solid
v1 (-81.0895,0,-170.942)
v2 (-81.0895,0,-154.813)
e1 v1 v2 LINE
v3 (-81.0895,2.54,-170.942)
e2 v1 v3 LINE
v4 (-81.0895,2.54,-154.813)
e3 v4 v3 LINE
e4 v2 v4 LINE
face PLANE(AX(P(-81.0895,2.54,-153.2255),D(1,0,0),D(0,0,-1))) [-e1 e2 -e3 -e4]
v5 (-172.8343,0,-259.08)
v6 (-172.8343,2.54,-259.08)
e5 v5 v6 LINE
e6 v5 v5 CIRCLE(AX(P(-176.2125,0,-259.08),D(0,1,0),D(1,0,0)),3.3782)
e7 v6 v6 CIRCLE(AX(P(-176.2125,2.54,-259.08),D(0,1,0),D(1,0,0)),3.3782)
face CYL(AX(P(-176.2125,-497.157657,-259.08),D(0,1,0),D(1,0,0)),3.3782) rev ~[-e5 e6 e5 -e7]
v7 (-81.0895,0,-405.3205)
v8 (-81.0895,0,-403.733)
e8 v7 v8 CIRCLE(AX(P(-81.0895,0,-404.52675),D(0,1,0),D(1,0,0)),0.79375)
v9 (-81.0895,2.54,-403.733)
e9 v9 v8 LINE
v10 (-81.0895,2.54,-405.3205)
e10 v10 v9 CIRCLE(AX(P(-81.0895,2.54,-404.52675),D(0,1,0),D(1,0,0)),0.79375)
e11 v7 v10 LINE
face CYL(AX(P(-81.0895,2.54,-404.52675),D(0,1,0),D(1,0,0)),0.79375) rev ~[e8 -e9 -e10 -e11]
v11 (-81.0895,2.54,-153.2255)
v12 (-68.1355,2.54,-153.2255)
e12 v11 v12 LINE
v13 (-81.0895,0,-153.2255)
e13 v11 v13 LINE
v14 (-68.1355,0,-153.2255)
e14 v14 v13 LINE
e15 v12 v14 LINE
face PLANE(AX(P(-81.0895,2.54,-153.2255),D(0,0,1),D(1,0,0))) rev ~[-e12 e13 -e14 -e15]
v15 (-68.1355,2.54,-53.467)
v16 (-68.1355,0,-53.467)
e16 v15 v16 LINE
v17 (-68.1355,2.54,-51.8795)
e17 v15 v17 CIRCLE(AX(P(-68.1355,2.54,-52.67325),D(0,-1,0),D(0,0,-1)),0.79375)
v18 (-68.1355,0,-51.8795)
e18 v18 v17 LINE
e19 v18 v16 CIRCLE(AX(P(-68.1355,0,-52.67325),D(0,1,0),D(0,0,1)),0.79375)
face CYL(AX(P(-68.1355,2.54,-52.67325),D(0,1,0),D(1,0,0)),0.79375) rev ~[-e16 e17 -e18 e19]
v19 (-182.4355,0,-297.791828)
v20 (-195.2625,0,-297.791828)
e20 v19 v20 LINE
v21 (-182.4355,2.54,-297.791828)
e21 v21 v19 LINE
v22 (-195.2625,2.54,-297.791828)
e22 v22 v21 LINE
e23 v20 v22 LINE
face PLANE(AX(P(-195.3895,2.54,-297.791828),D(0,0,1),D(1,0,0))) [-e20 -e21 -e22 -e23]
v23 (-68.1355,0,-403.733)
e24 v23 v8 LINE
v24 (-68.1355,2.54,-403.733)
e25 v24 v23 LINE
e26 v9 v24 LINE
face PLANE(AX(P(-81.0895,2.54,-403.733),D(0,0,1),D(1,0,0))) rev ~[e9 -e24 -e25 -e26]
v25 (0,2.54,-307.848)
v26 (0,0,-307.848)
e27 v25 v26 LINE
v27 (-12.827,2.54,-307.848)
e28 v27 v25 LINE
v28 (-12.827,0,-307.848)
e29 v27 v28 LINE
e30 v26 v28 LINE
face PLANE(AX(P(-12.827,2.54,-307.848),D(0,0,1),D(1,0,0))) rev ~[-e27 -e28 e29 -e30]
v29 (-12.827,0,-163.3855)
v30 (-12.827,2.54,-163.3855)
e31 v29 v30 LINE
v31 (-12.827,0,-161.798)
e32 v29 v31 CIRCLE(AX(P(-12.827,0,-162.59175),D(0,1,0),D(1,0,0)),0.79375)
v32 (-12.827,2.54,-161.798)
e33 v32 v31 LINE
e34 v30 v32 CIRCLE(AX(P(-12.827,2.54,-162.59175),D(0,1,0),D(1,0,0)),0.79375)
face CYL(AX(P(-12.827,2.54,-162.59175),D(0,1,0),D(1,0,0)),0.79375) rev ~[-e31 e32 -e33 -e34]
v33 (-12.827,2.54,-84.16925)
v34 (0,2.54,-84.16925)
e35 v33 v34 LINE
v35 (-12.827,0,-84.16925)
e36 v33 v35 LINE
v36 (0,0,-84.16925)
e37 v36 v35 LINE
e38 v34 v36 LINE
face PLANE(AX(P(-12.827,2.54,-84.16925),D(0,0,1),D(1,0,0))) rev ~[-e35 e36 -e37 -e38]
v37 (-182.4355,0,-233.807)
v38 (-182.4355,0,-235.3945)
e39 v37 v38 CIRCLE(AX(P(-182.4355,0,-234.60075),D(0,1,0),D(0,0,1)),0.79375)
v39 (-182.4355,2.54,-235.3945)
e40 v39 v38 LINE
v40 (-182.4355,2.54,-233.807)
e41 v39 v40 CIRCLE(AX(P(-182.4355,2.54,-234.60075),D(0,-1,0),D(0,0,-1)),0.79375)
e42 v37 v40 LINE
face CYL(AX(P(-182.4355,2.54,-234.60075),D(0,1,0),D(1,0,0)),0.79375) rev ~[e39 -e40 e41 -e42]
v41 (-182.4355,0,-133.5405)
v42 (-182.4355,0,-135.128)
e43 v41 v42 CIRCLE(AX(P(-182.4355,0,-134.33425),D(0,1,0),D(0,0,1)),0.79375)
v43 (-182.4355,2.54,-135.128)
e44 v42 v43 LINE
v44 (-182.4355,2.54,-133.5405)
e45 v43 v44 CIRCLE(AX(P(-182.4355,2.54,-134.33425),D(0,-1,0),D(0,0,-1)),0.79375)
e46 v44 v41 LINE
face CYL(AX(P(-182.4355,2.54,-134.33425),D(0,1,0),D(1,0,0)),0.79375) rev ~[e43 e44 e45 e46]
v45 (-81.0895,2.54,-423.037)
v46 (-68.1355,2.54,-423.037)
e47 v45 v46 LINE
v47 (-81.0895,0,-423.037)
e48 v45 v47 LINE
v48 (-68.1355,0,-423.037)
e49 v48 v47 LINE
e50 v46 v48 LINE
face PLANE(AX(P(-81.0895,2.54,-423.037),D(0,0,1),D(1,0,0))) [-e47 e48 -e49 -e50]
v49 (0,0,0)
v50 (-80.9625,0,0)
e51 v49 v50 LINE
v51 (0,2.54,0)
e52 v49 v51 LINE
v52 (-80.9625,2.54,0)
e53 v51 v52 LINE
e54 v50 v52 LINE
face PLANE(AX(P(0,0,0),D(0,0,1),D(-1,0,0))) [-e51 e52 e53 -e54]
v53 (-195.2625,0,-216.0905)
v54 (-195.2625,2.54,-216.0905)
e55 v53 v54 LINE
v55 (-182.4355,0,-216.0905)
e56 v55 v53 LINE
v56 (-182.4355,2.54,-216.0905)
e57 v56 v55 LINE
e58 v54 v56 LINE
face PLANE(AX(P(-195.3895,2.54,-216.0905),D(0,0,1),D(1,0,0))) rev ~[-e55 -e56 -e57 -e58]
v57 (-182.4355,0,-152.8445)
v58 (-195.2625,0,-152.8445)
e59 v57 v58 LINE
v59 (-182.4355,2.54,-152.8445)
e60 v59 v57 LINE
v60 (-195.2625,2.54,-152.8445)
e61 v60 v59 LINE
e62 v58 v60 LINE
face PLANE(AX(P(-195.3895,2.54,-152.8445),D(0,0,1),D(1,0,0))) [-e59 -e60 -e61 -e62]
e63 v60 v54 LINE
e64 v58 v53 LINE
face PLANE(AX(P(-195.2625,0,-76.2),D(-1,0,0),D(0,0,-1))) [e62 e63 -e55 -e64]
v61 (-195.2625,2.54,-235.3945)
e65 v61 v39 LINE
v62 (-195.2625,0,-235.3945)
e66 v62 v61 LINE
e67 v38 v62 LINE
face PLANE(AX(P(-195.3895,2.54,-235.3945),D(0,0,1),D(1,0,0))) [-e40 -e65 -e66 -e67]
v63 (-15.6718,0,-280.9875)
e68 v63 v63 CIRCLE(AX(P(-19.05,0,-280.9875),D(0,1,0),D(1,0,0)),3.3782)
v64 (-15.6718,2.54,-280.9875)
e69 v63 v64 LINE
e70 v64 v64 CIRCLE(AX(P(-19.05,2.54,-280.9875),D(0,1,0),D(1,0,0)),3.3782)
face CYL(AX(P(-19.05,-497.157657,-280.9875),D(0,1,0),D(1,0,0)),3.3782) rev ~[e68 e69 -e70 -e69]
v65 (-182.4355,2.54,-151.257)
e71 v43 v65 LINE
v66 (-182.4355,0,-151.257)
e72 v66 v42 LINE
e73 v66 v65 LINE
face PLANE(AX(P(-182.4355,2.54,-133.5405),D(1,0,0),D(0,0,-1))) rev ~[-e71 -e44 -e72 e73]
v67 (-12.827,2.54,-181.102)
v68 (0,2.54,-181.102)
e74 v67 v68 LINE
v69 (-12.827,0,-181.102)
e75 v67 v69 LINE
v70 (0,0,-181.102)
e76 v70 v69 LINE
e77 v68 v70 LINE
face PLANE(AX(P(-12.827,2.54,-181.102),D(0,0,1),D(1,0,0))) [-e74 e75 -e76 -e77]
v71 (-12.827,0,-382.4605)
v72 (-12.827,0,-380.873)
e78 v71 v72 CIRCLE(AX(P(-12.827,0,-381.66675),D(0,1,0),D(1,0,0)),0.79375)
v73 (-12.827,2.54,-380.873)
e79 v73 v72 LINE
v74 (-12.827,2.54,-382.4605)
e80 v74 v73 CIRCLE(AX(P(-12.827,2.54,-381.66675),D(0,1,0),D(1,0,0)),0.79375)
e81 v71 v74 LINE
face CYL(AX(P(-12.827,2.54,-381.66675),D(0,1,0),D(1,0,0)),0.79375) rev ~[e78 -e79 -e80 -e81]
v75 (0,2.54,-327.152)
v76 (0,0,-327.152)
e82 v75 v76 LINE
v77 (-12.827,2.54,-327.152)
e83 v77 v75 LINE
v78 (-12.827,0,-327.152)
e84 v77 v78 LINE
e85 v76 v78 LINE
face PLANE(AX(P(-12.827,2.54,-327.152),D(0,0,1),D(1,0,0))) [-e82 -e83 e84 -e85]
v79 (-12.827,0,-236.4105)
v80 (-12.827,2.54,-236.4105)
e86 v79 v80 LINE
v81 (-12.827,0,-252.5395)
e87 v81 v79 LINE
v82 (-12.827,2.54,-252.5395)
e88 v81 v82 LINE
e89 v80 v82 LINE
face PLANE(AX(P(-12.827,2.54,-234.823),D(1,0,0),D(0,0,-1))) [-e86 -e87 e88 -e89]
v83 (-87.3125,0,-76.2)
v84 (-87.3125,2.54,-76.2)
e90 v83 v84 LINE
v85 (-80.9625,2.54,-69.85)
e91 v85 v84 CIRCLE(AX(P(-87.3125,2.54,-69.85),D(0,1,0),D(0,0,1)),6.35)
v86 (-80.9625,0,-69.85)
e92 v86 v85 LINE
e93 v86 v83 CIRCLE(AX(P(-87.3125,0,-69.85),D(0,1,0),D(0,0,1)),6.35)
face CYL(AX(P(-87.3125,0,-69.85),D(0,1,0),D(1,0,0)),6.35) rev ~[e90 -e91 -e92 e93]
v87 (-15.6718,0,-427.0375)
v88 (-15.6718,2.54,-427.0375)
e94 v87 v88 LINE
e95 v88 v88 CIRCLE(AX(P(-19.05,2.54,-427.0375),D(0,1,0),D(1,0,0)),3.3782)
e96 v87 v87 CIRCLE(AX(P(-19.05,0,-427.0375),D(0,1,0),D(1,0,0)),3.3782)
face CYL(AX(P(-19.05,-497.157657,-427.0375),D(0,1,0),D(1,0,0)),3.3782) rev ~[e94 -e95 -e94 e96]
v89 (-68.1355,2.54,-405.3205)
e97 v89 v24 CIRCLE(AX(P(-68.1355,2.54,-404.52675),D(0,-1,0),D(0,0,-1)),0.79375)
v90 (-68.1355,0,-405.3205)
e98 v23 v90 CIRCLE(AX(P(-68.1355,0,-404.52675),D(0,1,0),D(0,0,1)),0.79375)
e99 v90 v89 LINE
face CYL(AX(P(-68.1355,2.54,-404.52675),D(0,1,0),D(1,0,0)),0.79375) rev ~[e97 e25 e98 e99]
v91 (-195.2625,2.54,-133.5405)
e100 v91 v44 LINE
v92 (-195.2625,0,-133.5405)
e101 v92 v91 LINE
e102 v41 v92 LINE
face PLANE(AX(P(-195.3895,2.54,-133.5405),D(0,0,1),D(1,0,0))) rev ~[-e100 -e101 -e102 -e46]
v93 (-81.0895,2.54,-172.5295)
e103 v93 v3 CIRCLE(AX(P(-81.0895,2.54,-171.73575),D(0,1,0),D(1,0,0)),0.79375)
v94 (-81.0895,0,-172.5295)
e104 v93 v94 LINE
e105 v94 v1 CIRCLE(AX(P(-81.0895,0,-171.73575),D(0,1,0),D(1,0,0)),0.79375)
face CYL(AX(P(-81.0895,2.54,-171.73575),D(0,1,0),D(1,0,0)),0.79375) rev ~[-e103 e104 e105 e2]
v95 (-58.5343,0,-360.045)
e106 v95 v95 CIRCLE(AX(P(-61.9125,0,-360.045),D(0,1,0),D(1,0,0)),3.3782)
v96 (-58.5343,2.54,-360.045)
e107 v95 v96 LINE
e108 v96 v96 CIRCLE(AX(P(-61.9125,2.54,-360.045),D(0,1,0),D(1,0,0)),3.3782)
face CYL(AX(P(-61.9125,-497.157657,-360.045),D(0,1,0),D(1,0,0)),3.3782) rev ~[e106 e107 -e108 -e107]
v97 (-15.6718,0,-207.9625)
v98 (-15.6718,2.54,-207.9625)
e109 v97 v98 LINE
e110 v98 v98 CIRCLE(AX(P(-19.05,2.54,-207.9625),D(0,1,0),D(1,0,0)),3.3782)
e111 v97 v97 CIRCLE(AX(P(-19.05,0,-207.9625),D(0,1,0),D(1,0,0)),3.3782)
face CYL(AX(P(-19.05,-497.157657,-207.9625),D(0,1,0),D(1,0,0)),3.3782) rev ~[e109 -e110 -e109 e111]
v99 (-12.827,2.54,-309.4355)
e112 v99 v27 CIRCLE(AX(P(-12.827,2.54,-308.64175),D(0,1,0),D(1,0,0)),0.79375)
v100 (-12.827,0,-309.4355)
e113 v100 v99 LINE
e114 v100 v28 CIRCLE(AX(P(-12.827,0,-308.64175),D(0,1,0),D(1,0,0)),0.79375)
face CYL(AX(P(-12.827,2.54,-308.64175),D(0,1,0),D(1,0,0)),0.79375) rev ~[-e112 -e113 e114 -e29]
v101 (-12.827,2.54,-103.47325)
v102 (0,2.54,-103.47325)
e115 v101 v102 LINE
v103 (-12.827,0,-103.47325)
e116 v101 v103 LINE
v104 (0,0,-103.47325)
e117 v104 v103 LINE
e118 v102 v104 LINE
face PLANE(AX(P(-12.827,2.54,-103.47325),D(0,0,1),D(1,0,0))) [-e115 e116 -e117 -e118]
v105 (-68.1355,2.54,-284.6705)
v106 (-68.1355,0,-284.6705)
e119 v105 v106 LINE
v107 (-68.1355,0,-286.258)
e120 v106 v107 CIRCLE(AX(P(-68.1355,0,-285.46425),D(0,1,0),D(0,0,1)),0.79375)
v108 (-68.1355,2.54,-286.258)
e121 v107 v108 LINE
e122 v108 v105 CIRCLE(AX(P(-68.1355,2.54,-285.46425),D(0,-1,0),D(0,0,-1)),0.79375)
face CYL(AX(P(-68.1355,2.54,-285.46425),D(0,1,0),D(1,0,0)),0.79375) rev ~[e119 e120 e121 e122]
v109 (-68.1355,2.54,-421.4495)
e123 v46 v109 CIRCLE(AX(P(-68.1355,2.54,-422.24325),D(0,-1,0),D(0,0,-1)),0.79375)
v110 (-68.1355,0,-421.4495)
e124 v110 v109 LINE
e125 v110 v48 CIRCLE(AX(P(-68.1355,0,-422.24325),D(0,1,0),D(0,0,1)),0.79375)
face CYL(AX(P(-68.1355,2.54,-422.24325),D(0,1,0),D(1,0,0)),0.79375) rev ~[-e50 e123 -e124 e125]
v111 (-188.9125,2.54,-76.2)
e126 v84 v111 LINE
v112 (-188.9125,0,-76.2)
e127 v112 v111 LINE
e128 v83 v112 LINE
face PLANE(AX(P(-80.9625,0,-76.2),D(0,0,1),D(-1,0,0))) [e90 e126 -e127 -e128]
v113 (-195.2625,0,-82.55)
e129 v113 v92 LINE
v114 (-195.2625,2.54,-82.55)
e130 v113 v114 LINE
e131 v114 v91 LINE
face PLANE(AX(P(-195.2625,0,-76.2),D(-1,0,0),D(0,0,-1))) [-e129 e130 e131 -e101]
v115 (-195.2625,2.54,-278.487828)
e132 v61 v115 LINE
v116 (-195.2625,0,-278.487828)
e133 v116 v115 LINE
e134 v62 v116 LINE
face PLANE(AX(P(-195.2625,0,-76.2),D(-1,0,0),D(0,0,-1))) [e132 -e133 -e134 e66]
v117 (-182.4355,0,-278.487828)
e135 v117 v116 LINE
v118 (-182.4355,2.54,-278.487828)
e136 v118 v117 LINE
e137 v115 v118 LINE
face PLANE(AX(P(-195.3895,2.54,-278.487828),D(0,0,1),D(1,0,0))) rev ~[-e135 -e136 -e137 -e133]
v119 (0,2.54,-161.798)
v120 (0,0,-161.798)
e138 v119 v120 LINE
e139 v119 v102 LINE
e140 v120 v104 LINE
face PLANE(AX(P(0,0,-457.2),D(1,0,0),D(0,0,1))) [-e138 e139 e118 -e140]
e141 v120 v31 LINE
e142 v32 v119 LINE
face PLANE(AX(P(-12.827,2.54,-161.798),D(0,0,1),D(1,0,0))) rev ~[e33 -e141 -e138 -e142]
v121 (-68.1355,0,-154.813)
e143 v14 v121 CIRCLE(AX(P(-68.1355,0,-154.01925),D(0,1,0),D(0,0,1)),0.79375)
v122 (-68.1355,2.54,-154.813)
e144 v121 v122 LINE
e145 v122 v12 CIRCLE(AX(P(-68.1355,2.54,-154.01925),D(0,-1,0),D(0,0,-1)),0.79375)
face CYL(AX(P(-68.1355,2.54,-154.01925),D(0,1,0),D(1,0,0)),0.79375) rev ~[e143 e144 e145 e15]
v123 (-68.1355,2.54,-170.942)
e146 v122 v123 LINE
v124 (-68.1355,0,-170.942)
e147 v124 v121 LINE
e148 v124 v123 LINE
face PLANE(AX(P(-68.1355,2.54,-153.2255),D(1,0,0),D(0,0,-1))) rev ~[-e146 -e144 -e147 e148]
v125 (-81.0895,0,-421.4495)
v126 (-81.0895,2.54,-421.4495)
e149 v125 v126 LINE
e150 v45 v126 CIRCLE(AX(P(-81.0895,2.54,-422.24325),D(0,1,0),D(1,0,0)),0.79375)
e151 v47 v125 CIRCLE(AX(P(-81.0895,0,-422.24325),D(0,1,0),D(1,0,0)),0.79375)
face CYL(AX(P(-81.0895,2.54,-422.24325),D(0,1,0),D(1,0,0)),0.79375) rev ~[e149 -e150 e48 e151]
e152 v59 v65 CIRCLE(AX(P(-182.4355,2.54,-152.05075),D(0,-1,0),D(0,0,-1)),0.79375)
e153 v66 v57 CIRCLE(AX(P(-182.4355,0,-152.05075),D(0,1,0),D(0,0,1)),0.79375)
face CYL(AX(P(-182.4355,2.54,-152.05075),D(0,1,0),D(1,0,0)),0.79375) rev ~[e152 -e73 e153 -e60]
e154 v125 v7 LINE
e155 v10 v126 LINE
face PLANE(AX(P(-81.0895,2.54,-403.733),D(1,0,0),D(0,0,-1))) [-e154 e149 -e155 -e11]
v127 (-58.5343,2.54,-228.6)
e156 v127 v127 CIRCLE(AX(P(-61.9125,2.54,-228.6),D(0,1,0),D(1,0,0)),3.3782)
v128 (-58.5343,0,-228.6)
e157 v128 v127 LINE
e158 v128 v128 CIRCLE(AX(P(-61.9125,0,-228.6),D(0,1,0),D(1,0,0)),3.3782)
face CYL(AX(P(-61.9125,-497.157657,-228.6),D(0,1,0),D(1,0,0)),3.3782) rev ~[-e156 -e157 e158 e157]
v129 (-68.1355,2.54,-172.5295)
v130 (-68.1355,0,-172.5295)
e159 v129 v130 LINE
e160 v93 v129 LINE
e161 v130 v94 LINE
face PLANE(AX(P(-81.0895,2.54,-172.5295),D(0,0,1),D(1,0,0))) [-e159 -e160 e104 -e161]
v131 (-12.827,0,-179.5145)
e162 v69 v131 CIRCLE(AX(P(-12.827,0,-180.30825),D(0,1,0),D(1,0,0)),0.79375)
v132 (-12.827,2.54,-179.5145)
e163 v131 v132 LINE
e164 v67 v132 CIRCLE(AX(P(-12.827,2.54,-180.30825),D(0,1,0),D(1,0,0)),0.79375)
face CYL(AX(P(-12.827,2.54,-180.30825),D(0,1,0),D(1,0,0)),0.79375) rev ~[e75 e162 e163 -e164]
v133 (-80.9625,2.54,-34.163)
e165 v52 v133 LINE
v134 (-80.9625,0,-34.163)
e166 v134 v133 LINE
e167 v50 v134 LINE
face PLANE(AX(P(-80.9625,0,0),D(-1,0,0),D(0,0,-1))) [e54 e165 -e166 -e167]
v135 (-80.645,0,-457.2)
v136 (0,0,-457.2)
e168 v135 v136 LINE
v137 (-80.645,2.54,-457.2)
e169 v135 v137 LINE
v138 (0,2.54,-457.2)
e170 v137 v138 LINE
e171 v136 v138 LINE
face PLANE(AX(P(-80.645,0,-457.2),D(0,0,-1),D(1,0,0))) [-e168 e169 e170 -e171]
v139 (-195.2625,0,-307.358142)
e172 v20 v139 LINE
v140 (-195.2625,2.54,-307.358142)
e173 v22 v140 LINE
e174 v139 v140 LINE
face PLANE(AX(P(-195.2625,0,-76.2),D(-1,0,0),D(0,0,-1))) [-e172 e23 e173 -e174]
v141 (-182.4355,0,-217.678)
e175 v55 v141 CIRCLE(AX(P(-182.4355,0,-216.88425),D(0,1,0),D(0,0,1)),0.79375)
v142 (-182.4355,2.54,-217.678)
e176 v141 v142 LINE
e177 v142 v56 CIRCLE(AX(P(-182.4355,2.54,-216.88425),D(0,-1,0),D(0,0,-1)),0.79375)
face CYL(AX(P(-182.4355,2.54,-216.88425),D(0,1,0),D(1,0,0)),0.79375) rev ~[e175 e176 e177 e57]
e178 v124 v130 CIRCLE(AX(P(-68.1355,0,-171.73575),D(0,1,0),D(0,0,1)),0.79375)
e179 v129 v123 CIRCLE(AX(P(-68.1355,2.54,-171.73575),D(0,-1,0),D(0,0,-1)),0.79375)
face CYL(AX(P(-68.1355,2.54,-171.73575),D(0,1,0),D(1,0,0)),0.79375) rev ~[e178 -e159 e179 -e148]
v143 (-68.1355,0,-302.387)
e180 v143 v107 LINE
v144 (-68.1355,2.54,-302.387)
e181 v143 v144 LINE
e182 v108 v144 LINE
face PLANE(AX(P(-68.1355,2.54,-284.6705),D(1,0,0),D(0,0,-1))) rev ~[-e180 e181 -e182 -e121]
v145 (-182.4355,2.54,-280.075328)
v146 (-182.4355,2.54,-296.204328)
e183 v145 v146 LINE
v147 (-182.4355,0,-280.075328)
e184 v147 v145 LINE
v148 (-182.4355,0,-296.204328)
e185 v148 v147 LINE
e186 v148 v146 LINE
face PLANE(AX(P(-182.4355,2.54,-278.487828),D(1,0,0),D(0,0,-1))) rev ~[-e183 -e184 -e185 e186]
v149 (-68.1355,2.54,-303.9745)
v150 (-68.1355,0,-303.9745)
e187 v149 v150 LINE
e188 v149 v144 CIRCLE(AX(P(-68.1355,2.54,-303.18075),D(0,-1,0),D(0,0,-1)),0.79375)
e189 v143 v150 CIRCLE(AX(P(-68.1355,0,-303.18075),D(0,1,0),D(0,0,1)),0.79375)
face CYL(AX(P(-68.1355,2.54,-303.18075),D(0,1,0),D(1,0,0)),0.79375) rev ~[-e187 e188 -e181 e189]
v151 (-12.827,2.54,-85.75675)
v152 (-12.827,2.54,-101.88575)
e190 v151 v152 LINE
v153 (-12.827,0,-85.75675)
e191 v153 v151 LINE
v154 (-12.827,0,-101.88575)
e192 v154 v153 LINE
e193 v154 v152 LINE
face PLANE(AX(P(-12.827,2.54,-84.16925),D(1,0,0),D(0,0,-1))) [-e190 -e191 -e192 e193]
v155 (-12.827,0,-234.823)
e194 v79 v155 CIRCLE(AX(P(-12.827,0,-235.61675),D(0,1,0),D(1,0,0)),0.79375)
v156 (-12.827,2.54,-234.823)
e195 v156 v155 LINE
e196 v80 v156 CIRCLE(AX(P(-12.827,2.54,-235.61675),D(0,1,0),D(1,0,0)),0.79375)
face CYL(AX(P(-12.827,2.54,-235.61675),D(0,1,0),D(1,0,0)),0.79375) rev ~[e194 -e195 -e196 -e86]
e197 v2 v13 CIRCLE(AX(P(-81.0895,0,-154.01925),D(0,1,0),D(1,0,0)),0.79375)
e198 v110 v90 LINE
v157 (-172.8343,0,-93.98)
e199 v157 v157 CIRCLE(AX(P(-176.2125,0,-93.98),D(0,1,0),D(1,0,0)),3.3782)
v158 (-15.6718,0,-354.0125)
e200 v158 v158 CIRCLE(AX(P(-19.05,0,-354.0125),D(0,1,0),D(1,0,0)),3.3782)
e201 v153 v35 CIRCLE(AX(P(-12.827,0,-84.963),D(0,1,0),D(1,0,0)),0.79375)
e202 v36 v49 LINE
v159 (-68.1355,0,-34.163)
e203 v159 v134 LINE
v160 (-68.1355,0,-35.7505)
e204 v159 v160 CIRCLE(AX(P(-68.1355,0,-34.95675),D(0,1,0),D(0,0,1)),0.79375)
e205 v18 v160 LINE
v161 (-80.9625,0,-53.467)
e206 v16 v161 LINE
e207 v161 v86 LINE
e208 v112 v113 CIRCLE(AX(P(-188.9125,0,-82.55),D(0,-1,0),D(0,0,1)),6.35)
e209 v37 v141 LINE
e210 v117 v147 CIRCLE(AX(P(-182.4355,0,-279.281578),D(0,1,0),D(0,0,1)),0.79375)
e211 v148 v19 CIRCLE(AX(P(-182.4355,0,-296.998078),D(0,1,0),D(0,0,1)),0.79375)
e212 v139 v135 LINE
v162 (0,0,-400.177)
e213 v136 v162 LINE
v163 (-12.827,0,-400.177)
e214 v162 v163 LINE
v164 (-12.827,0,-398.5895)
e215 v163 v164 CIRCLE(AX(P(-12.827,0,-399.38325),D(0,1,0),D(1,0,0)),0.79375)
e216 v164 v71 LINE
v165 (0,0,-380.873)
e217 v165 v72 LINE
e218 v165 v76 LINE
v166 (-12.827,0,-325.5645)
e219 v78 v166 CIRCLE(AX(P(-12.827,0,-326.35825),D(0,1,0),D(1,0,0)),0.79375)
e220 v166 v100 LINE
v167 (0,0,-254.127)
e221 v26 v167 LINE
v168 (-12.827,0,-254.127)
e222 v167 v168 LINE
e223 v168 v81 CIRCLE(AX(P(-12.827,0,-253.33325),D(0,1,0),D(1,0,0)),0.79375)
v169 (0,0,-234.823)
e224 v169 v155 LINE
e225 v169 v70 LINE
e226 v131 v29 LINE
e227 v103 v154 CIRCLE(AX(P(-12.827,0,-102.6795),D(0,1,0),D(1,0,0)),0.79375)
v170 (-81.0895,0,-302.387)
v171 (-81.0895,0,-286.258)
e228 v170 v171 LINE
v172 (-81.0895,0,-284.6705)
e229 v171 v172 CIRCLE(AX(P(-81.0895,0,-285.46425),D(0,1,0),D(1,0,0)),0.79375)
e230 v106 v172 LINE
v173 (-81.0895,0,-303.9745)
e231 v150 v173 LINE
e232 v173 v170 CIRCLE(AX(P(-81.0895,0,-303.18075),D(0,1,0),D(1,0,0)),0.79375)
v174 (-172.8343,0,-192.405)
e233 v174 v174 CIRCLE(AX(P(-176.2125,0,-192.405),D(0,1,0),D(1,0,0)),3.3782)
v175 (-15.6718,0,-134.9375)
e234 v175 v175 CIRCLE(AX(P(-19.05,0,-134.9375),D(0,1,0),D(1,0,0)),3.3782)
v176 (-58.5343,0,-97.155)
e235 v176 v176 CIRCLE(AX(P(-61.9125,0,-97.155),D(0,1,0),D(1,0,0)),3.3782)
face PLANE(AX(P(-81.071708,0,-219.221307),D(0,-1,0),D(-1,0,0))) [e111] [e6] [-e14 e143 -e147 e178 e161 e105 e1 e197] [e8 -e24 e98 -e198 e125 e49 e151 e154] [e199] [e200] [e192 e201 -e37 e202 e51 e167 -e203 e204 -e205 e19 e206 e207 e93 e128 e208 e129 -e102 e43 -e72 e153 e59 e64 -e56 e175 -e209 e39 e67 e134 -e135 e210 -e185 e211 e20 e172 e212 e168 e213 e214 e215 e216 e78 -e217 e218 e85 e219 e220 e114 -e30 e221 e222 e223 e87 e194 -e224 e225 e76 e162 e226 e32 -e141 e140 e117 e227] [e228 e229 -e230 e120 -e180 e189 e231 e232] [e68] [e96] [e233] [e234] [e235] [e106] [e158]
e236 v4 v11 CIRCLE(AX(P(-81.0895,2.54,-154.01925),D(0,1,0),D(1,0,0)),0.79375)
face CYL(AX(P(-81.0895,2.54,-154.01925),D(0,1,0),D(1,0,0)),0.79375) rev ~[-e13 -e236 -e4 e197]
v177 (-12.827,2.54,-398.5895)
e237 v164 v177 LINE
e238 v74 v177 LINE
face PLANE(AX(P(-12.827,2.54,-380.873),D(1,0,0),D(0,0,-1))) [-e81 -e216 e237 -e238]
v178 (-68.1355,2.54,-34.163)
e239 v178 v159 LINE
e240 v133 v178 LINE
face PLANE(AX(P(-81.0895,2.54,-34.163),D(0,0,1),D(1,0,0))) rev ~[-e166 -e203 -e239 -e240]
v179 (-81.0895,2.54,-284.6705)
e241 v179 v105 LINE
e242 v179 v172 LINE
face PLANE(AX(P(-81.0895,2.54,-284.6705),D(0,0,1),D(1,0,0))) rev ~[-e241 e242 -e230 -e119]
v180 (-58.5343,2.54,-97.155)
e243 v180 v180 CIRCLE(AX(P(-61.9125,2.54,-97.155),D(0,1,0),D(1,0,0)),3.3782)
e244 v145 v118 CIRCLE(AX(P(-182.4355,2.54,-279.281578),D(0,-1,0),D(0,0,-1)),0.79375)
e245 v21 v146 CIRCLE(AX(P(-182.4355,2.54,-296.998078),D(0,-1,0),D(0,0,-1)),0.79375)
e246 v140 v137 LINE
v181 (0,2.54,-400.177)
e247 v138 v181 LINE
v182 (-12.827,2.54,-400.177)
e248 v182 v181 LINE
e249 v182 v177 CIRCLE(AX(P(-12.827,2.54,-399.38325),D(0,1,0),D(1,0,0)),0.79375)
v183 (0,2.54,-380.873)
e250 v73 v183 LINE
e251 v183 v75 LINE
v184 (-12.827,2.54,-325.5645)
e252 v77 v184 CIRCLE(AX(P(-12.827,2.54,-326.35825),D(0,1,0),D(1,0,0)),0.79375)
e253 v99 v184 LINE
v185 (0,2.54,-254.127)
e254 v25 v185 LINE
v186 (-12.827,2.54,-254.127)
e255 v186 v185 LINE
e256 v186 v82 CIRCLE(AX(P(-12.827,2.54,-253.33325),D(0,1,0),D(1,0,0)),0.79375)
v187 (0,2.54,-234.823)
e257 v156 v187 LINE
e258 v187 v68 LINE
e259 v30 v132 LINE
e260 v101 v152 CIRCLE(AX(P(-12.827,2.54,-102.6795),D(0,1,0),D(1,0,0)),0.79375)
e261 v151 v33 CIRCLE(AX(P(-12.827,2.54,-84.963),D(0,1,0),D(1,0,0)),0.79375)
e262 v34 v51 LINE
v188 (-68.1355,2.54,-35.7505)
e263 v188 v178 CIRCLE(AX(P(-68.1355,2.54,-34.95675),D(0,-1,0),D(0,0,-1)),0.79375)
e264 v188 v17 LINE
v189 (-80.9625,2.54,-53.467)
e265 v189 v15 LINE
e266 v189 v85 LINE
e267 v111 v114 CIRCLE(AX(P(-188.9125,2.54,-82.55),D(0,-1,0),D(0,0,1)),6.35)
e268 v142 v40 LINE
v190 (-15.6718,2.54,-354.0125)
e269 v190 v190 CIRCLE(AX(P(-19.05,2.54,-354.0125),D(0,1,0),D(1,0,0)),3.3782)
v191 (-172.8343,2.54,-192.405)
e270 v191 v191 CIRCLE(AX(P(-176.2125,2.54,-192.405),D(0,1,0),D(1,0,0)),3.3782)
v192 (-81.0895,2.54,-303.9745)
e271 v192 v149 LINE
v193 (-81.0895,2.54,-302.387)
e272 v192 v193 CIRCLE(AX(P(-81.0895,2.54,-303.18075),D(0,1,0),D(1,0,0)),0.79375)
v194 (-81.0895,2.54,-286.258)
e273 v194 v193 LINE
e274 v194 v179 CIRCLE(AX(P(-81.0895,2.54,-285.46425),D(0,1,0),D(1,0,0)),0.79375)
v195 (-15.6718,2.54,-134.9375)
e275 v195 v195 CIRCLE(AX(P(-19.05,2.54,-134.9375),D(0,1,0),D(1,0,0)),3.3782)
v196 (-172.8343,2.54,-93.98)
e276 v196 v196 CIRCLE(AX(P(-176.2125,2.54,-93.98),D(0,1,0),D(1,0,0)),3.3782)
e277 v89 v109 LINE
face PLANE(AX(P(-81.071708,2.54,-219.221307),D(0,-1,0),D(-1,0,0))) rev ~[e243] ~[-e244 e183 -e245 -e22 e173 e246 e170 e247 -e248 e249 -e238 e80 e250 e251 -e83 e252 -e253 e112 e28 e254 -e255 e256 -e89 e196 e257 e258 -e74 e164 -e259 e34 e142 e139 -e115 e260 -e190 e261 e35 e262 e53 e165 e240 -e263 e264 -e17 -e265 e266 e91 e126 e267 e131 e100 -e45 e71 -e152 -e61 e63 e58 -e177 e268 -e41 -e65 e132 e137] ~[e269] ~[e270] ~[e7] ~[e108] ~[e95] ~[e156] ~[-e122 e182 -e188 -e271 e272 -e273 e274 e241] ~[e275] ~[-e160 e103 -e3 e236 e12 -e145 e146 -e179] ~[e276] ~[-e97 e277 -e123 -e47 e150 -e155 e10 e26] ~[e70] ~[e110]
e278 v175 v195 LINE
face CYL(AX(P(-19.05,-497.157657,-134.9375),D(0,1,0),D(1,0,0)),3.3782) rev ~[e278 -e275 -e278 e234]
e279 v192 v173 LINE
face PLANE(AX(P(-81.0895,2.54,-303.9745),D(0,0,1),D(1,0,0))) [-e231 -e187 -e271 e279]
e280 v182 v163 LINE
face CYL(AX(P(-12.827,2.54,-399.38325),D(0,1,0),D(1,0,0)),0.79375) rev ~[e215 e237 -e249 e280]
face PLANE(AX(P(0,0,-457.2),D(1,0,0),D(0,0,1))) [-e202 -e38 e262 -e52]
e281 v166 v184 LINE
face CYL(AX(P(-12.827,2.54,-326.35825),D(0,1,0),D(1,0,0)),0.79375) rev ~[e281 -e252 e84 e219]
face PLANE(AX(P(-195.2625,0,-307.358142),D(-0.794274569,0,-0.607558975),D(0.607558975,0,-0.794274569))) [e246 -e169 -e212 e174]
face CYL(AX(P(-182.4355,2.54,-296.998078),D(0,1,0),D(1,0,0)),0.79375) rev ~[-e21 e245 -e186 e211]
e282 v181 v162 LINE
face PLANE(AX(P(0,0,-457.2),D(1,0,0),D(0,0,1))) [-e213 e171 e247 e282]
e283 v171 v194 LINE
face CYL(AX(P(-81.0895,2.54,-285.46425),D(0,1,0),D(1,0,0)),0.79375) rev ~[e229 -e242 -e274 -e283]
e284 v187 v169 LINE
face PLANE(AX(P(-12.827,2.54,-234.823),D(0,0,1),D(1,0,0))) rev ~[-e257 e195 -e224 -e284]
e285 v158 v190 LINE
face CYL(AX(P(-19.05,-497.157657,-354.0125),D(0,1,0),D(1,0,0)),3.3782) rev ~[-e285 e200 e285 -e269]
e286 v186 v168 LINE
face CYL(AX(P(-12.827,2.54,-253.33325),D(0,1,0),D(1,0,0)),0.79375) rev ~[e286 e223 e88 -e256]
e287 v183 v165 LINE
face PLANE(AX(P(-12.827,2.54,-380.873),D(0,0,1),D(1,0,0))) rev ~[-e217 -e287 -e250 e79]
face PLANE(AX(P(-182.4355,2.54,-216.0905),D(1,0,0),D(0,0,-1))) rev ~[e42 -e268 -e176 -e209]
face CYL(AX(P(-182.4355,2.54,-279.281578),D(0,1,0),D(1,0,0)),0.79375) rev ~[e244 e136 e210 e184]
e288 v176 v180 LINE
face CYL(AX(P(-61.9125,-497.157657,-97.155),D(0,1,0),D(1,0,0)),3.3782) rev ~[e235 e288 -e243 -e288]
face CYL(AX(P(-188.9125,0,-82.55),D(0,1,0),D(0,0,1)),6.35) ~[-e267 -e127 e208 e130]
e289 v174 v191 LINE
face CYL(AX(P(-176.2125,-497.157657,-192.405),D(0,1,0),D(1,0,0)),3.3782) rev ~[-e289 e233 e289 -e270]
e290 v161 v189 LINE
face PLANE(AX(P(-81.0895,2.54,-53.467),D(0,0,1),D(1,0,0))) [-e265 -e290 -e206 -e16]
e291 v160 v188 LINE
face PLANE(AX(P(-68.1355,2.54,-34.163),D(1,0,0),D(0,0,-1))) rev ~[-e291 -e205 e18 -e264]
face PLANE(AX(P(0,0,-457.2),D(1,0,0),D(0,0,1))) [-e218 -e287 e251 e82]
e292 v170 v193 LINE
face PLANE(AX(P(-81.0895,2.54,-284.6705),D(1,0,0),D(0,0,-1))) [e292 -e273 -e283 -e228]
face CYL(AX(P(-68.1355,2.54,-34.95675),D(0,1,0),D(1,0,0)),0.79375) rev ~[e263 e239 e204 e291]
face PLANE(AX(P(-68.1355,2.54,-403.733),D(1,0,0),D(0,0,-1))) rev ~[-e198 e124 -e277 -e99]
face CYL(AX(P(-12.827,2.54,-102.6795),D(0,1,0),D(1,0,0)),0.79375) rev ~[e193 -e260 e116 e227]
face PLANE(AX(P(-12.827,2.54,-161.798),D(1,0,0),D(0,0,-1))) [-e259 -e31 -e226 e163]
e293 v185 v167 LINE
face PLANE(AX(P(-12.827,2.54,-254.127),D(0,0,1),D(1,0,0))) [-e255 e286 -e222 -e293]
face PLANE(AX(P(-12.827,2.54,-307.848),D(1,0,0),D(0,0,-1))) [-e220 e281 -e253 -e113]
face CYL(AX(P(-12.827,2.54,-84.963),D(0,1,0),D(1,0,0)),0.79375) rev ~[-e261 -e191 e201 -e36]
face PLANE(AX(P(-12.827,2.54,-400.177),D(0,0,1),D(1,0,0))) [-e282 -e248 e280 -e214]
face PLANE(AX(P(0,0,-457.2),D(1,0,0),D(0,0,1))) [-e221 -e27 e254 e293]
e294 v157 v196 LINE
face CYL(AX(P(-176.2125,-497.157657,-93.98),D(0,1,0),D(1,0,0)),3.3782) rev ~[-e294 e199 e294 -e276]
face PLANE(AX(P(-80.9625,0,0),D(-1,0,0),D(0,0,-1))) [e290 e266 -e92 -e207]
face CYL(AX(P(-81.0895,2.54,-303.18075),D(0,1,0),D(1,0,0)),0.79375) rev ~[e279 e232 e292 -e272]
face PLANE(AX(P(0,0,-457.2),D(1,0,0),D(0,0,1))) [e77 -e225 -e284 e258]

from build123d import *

# Parameters (mm, degrees)
BOSS_EXTRUDE1_DEPTH     = 2.54
FILLET1_R               = 6.35
SKETCH2_W               = 12.954
SKETCH2_H               = 19.304
SKETCH2_W_2             = 12.7
SKETCH2_H_2             = 19.05
CUT_EXTRUDE1_DEPTH      = 498.15765659
F_1_4_CLEARANCE_HOLE1_D = 6.7564
SKETCH5_R               = 0.79375
CUT_EXTRUDE2_DEPTH      = 498.15765659


with BuildPart() as part:
    # Sketch1 → Boss-Extrude1 (new body)
    with BuildSketch(Plane(origin=(0, 0, 0), x_dir=(1, 0, 0), z_dir=(0, 1, 0))):
        Polygon((0, 0), (-80.9625, 0), (-80.9625, 76.2), (-195.2625, 76.2), (-195.2625, 307.35814247), (-80.645, 457.2), (0, 457.2), align=None)
    extrude(amount=BOSS_EXTRUDE1_DEPTH)

    # Fillet1
    fillet1_edges = [part.edges().sort_by_distance(p)[0] for p in [
        (-80.9625, 1.27, -76.2),
        (-195.2625, 1.27, -76.2),
    ]]
    fillet(fillet1_edges, radius=FILLET1_R)

    # Sketch2 → Cut-Extrude1 (cut, through all)
    with BuildSketch(Plane(origin=(0, 2.54, 0), x_dir=(1, 0, 0), z_dir=(0, 1, 0))):
        with Locations((-74.6125, 413.385)):
            Rectangle(SKETCH2_W, SKETCH2_H)
        with Locations((-74.6125, 413.385)):
            Rectangle(SKETCH2_W_2, SKETCH2_H_2, mode=Mode.SUBTRACT)
        with Locations((-188.9125, 288.139828218)):
            Rectangle(SKETCH2_W, SKETCH2_H)
        with Locations((-188.9125, 288.139828218)):
            Rectangle(SKETCH2_W_2, SKETCH2_H_2, mode=Mode.SUBTRACT)
        with Locations((-74.6125, 294.3225)):
            Rectangle(SKETCH2_W, SKETCH2_H)
        with Locations((-74.6125, 294.3225)):
            Rectangle(SKETCH2_W_2, SKETCH2_H_2, mode=Mode.SUBTRACT)
        with Locations((-188.9125, 225.7425)):
            Rectangle(SKETCH2_W, SKETCH2_H)
        with Locations((-188.9125, 225.7425)):
            Rectangle(SKETCH2_W_2, SKETCH2_H_2, mode=Mode.SUBTRACT)
        with Locations((-188.9125, 143.1925)):
            Rectangle(SKETCH2_W, SKETCH2_H)
        with Locations((-188.9125, 143.1925)):
            Rectangle(SKETCH2_W_2, SKETCH2_H_2, mode=Mode.SUBTRACT)
        with Locations((-74.6125, 162.8775)):
            Rectangle(SKETCH2_W, SKETCH2_H)
        with Locations((-74.6125, 162.8775)):
            Rectangle(SKETCH2_W_2, SKETCH2_H_2, mode=Mode.SUBTRACT)
        with Locations((-74.6125, 43.815)):
            Rectangle(SKETCH2_W, SKETCH2_H)
        with Locations((-74.6125, 43.815)):
            Rectangle(SKETCH2_W_2, SKETCH2_H_2, mode=Mode.SUBTRACT)
        with Locations((-6.35, 93.82125)):
            Rectangle(SKETCH2_W, SKETCH2_H)
        with Locations((-6.35, 93.82125)):
            Rectangle(SKETCH2_W_2, SKETCH2_H_2, mode=Mode.SUBTRACT)
        with Locations((-6.35, 171.45)):
            Rectangle(SKETCH2_W, SKETCH2_H)
        with Locations((-6.35, 171.45)):
            Rectangle(SKETCH2_W_2, SKETCH2_H_2, mode=Mode.SUBTRACT)
        with Locations((-6.35, 244.475)):
            Rectangle(SKETCH2_W, SKETCH2_H)
        with Locations((-6.35, 244.475)):
            Rectangle(SKETCH2_W_2, SKETCH2_H_2, mode=Mode.SUBTRACT)
        with Locations((-6.35, 317.5)):
            Rectangle(SKETCH2_W, SKETCH2_H)
        with Locations((-6.35, 317.5)):
            Rectangle(SKETCH2_W_2, SKETCH2_H_2, mode=Mode.SUBTRACT)
        with Locations((-6.35, 390.525)):
            Rectangle(SKETCH2_W, SKETCH2_H)
        with Locations((-6.35, 390.525)):
            Rectangle(SKETCH2_W_2, SKETCH2_H_2, mode=Mode.SUBTRACT)
    extrude(amount=-CUT_EXTRUDE1_DEPTH, mode=Mode.SUBTRACT)


with BuildPart() as cut_extrude1_kept_piece:
    # of the separate pieces the step leaves, the one the design keeps (cut_extrude1_pieces_kept)
    add(part.part.solids().sort_by_distance((-80.9625, 0, -34.163))[0])

    # 1/4 Clearance Hole1 (through all)
    with Locations(Plane(origin=(0, 0, 0), x_dir=(-1, 0, 0), z_dir=(0, -1, 0))):
        with Locations((61.9125, 97.155), (19.05, 134.9375), (19.05, 207.9625), (61.9125, 228.6), (19.05, 280.9875), (19.05, 354.0125), (61.9125, 360.045), (19.05, 427.0375), (176.2125, 259.08), (176.2125, 192.405), (176.2125, 93.98)):
            Hole(F_1_4_CLEARANCE_HOLE1_D / 2)

    # Sketch5 → Cut-Extrude2 (cut, through all)
    with BuildSketch(Plane(origin=(0, 2.54, 0), x_dir=(1, 0, 0), z_dir=(0, 1, 0))):
        with Locations((-182.4355, 296.998078218)):
            Circle(SKETCH5_R)
        with Locations((-182.4355, 279.281578218)):
            Circle(SKETCH5_R)
        with Locations((-182.4355, 234.60075)):
            Circle(SKETCH5_R)
        with Locations((-182.4355, 216.88425)):
            Circle(SKETCH5_R)
        with Locations((-182.4355, 152.05075)):
            Circle(SKETCH5_R)
        with Locations((-182.4355, 134.33425)):
            Circle(SKETCH5_R)
        with Locations((-68.1355, 52.67325)):
            Circle(SKETCH5_R)
        with Locations((-68.1355, 34.95675)):
            Circle(SKETCH5_R)
        with Locations((-12.827, 84.963)):
            Circle(SKETCH5_R)
        with Locations((-12.827, 102.6795)):
            Circle(SKETCH5_R)
        with Locations((-68.1355, 171.73575)):
            Circle(SKETCH5_R)
        with Locations((-81.0895, 171.73575)):
            Circle(SKETCH5_R)
        with Locations((-81.0895, 154.01925)):
            Circle(SKETCH5_R)
        with Locations((-68.1355, 154.01925)):
            Circle(SKETCH5_R)
        with Locations((-12.827, 162.59175)):
            Circle(SKETCH5_R)
        with Locations((-12.827, 180.30825)):
            Circle(SKETCH5_R)
        with Locations((-12.827, 235.61675)):
            Circle(SKETCH5_R)
        with Locations((-12.827, 253.33325)):
            Circle(SKETCH5_R)
        with Locations((-68.1355, 285.46425)):
            Circle(SKETCH5_R)
        with Locations((-81.0895, 285.46425)):
            Circle(SKETCH5_R)
        with Locations((-81.0895, 303.18075)):
            Circle(SKETCH5_R)
        with Locations((-68.1355, 303.18075)):
            Circle(SKETCH5_R)
        with Locations((-12.827, 308.64175)):
            Circle(SKETCH5_R)
        with Locations((-12.827, 326.35825)):
            Circle(SKETCH5_R)
        with Locations((-12.827, 399.38325)):
            Circle(SKETCH5_R)
        with Locations((-12.827, 381.66675)):
            Circle(SKETCH5_R)
        with Locations((-68.1355, 422.24325)):
            Circle(SKETCH5_R)
        with Locations((-81.0895, 422.24325)):
            Circle(SKETCH5_R)
        with Locations((-81.0895, 404.52675)):
            Circle(SKETCH5_R)
        with Locations((-68.1355, 404.52675)):
            Circle(SKETCH5_R)
    extrude(amount=-CUT_EXTRUDE2_DEPTH, mode=Mode.SUBTRACT)


solid = cut_extrude1_kept_piece.part
